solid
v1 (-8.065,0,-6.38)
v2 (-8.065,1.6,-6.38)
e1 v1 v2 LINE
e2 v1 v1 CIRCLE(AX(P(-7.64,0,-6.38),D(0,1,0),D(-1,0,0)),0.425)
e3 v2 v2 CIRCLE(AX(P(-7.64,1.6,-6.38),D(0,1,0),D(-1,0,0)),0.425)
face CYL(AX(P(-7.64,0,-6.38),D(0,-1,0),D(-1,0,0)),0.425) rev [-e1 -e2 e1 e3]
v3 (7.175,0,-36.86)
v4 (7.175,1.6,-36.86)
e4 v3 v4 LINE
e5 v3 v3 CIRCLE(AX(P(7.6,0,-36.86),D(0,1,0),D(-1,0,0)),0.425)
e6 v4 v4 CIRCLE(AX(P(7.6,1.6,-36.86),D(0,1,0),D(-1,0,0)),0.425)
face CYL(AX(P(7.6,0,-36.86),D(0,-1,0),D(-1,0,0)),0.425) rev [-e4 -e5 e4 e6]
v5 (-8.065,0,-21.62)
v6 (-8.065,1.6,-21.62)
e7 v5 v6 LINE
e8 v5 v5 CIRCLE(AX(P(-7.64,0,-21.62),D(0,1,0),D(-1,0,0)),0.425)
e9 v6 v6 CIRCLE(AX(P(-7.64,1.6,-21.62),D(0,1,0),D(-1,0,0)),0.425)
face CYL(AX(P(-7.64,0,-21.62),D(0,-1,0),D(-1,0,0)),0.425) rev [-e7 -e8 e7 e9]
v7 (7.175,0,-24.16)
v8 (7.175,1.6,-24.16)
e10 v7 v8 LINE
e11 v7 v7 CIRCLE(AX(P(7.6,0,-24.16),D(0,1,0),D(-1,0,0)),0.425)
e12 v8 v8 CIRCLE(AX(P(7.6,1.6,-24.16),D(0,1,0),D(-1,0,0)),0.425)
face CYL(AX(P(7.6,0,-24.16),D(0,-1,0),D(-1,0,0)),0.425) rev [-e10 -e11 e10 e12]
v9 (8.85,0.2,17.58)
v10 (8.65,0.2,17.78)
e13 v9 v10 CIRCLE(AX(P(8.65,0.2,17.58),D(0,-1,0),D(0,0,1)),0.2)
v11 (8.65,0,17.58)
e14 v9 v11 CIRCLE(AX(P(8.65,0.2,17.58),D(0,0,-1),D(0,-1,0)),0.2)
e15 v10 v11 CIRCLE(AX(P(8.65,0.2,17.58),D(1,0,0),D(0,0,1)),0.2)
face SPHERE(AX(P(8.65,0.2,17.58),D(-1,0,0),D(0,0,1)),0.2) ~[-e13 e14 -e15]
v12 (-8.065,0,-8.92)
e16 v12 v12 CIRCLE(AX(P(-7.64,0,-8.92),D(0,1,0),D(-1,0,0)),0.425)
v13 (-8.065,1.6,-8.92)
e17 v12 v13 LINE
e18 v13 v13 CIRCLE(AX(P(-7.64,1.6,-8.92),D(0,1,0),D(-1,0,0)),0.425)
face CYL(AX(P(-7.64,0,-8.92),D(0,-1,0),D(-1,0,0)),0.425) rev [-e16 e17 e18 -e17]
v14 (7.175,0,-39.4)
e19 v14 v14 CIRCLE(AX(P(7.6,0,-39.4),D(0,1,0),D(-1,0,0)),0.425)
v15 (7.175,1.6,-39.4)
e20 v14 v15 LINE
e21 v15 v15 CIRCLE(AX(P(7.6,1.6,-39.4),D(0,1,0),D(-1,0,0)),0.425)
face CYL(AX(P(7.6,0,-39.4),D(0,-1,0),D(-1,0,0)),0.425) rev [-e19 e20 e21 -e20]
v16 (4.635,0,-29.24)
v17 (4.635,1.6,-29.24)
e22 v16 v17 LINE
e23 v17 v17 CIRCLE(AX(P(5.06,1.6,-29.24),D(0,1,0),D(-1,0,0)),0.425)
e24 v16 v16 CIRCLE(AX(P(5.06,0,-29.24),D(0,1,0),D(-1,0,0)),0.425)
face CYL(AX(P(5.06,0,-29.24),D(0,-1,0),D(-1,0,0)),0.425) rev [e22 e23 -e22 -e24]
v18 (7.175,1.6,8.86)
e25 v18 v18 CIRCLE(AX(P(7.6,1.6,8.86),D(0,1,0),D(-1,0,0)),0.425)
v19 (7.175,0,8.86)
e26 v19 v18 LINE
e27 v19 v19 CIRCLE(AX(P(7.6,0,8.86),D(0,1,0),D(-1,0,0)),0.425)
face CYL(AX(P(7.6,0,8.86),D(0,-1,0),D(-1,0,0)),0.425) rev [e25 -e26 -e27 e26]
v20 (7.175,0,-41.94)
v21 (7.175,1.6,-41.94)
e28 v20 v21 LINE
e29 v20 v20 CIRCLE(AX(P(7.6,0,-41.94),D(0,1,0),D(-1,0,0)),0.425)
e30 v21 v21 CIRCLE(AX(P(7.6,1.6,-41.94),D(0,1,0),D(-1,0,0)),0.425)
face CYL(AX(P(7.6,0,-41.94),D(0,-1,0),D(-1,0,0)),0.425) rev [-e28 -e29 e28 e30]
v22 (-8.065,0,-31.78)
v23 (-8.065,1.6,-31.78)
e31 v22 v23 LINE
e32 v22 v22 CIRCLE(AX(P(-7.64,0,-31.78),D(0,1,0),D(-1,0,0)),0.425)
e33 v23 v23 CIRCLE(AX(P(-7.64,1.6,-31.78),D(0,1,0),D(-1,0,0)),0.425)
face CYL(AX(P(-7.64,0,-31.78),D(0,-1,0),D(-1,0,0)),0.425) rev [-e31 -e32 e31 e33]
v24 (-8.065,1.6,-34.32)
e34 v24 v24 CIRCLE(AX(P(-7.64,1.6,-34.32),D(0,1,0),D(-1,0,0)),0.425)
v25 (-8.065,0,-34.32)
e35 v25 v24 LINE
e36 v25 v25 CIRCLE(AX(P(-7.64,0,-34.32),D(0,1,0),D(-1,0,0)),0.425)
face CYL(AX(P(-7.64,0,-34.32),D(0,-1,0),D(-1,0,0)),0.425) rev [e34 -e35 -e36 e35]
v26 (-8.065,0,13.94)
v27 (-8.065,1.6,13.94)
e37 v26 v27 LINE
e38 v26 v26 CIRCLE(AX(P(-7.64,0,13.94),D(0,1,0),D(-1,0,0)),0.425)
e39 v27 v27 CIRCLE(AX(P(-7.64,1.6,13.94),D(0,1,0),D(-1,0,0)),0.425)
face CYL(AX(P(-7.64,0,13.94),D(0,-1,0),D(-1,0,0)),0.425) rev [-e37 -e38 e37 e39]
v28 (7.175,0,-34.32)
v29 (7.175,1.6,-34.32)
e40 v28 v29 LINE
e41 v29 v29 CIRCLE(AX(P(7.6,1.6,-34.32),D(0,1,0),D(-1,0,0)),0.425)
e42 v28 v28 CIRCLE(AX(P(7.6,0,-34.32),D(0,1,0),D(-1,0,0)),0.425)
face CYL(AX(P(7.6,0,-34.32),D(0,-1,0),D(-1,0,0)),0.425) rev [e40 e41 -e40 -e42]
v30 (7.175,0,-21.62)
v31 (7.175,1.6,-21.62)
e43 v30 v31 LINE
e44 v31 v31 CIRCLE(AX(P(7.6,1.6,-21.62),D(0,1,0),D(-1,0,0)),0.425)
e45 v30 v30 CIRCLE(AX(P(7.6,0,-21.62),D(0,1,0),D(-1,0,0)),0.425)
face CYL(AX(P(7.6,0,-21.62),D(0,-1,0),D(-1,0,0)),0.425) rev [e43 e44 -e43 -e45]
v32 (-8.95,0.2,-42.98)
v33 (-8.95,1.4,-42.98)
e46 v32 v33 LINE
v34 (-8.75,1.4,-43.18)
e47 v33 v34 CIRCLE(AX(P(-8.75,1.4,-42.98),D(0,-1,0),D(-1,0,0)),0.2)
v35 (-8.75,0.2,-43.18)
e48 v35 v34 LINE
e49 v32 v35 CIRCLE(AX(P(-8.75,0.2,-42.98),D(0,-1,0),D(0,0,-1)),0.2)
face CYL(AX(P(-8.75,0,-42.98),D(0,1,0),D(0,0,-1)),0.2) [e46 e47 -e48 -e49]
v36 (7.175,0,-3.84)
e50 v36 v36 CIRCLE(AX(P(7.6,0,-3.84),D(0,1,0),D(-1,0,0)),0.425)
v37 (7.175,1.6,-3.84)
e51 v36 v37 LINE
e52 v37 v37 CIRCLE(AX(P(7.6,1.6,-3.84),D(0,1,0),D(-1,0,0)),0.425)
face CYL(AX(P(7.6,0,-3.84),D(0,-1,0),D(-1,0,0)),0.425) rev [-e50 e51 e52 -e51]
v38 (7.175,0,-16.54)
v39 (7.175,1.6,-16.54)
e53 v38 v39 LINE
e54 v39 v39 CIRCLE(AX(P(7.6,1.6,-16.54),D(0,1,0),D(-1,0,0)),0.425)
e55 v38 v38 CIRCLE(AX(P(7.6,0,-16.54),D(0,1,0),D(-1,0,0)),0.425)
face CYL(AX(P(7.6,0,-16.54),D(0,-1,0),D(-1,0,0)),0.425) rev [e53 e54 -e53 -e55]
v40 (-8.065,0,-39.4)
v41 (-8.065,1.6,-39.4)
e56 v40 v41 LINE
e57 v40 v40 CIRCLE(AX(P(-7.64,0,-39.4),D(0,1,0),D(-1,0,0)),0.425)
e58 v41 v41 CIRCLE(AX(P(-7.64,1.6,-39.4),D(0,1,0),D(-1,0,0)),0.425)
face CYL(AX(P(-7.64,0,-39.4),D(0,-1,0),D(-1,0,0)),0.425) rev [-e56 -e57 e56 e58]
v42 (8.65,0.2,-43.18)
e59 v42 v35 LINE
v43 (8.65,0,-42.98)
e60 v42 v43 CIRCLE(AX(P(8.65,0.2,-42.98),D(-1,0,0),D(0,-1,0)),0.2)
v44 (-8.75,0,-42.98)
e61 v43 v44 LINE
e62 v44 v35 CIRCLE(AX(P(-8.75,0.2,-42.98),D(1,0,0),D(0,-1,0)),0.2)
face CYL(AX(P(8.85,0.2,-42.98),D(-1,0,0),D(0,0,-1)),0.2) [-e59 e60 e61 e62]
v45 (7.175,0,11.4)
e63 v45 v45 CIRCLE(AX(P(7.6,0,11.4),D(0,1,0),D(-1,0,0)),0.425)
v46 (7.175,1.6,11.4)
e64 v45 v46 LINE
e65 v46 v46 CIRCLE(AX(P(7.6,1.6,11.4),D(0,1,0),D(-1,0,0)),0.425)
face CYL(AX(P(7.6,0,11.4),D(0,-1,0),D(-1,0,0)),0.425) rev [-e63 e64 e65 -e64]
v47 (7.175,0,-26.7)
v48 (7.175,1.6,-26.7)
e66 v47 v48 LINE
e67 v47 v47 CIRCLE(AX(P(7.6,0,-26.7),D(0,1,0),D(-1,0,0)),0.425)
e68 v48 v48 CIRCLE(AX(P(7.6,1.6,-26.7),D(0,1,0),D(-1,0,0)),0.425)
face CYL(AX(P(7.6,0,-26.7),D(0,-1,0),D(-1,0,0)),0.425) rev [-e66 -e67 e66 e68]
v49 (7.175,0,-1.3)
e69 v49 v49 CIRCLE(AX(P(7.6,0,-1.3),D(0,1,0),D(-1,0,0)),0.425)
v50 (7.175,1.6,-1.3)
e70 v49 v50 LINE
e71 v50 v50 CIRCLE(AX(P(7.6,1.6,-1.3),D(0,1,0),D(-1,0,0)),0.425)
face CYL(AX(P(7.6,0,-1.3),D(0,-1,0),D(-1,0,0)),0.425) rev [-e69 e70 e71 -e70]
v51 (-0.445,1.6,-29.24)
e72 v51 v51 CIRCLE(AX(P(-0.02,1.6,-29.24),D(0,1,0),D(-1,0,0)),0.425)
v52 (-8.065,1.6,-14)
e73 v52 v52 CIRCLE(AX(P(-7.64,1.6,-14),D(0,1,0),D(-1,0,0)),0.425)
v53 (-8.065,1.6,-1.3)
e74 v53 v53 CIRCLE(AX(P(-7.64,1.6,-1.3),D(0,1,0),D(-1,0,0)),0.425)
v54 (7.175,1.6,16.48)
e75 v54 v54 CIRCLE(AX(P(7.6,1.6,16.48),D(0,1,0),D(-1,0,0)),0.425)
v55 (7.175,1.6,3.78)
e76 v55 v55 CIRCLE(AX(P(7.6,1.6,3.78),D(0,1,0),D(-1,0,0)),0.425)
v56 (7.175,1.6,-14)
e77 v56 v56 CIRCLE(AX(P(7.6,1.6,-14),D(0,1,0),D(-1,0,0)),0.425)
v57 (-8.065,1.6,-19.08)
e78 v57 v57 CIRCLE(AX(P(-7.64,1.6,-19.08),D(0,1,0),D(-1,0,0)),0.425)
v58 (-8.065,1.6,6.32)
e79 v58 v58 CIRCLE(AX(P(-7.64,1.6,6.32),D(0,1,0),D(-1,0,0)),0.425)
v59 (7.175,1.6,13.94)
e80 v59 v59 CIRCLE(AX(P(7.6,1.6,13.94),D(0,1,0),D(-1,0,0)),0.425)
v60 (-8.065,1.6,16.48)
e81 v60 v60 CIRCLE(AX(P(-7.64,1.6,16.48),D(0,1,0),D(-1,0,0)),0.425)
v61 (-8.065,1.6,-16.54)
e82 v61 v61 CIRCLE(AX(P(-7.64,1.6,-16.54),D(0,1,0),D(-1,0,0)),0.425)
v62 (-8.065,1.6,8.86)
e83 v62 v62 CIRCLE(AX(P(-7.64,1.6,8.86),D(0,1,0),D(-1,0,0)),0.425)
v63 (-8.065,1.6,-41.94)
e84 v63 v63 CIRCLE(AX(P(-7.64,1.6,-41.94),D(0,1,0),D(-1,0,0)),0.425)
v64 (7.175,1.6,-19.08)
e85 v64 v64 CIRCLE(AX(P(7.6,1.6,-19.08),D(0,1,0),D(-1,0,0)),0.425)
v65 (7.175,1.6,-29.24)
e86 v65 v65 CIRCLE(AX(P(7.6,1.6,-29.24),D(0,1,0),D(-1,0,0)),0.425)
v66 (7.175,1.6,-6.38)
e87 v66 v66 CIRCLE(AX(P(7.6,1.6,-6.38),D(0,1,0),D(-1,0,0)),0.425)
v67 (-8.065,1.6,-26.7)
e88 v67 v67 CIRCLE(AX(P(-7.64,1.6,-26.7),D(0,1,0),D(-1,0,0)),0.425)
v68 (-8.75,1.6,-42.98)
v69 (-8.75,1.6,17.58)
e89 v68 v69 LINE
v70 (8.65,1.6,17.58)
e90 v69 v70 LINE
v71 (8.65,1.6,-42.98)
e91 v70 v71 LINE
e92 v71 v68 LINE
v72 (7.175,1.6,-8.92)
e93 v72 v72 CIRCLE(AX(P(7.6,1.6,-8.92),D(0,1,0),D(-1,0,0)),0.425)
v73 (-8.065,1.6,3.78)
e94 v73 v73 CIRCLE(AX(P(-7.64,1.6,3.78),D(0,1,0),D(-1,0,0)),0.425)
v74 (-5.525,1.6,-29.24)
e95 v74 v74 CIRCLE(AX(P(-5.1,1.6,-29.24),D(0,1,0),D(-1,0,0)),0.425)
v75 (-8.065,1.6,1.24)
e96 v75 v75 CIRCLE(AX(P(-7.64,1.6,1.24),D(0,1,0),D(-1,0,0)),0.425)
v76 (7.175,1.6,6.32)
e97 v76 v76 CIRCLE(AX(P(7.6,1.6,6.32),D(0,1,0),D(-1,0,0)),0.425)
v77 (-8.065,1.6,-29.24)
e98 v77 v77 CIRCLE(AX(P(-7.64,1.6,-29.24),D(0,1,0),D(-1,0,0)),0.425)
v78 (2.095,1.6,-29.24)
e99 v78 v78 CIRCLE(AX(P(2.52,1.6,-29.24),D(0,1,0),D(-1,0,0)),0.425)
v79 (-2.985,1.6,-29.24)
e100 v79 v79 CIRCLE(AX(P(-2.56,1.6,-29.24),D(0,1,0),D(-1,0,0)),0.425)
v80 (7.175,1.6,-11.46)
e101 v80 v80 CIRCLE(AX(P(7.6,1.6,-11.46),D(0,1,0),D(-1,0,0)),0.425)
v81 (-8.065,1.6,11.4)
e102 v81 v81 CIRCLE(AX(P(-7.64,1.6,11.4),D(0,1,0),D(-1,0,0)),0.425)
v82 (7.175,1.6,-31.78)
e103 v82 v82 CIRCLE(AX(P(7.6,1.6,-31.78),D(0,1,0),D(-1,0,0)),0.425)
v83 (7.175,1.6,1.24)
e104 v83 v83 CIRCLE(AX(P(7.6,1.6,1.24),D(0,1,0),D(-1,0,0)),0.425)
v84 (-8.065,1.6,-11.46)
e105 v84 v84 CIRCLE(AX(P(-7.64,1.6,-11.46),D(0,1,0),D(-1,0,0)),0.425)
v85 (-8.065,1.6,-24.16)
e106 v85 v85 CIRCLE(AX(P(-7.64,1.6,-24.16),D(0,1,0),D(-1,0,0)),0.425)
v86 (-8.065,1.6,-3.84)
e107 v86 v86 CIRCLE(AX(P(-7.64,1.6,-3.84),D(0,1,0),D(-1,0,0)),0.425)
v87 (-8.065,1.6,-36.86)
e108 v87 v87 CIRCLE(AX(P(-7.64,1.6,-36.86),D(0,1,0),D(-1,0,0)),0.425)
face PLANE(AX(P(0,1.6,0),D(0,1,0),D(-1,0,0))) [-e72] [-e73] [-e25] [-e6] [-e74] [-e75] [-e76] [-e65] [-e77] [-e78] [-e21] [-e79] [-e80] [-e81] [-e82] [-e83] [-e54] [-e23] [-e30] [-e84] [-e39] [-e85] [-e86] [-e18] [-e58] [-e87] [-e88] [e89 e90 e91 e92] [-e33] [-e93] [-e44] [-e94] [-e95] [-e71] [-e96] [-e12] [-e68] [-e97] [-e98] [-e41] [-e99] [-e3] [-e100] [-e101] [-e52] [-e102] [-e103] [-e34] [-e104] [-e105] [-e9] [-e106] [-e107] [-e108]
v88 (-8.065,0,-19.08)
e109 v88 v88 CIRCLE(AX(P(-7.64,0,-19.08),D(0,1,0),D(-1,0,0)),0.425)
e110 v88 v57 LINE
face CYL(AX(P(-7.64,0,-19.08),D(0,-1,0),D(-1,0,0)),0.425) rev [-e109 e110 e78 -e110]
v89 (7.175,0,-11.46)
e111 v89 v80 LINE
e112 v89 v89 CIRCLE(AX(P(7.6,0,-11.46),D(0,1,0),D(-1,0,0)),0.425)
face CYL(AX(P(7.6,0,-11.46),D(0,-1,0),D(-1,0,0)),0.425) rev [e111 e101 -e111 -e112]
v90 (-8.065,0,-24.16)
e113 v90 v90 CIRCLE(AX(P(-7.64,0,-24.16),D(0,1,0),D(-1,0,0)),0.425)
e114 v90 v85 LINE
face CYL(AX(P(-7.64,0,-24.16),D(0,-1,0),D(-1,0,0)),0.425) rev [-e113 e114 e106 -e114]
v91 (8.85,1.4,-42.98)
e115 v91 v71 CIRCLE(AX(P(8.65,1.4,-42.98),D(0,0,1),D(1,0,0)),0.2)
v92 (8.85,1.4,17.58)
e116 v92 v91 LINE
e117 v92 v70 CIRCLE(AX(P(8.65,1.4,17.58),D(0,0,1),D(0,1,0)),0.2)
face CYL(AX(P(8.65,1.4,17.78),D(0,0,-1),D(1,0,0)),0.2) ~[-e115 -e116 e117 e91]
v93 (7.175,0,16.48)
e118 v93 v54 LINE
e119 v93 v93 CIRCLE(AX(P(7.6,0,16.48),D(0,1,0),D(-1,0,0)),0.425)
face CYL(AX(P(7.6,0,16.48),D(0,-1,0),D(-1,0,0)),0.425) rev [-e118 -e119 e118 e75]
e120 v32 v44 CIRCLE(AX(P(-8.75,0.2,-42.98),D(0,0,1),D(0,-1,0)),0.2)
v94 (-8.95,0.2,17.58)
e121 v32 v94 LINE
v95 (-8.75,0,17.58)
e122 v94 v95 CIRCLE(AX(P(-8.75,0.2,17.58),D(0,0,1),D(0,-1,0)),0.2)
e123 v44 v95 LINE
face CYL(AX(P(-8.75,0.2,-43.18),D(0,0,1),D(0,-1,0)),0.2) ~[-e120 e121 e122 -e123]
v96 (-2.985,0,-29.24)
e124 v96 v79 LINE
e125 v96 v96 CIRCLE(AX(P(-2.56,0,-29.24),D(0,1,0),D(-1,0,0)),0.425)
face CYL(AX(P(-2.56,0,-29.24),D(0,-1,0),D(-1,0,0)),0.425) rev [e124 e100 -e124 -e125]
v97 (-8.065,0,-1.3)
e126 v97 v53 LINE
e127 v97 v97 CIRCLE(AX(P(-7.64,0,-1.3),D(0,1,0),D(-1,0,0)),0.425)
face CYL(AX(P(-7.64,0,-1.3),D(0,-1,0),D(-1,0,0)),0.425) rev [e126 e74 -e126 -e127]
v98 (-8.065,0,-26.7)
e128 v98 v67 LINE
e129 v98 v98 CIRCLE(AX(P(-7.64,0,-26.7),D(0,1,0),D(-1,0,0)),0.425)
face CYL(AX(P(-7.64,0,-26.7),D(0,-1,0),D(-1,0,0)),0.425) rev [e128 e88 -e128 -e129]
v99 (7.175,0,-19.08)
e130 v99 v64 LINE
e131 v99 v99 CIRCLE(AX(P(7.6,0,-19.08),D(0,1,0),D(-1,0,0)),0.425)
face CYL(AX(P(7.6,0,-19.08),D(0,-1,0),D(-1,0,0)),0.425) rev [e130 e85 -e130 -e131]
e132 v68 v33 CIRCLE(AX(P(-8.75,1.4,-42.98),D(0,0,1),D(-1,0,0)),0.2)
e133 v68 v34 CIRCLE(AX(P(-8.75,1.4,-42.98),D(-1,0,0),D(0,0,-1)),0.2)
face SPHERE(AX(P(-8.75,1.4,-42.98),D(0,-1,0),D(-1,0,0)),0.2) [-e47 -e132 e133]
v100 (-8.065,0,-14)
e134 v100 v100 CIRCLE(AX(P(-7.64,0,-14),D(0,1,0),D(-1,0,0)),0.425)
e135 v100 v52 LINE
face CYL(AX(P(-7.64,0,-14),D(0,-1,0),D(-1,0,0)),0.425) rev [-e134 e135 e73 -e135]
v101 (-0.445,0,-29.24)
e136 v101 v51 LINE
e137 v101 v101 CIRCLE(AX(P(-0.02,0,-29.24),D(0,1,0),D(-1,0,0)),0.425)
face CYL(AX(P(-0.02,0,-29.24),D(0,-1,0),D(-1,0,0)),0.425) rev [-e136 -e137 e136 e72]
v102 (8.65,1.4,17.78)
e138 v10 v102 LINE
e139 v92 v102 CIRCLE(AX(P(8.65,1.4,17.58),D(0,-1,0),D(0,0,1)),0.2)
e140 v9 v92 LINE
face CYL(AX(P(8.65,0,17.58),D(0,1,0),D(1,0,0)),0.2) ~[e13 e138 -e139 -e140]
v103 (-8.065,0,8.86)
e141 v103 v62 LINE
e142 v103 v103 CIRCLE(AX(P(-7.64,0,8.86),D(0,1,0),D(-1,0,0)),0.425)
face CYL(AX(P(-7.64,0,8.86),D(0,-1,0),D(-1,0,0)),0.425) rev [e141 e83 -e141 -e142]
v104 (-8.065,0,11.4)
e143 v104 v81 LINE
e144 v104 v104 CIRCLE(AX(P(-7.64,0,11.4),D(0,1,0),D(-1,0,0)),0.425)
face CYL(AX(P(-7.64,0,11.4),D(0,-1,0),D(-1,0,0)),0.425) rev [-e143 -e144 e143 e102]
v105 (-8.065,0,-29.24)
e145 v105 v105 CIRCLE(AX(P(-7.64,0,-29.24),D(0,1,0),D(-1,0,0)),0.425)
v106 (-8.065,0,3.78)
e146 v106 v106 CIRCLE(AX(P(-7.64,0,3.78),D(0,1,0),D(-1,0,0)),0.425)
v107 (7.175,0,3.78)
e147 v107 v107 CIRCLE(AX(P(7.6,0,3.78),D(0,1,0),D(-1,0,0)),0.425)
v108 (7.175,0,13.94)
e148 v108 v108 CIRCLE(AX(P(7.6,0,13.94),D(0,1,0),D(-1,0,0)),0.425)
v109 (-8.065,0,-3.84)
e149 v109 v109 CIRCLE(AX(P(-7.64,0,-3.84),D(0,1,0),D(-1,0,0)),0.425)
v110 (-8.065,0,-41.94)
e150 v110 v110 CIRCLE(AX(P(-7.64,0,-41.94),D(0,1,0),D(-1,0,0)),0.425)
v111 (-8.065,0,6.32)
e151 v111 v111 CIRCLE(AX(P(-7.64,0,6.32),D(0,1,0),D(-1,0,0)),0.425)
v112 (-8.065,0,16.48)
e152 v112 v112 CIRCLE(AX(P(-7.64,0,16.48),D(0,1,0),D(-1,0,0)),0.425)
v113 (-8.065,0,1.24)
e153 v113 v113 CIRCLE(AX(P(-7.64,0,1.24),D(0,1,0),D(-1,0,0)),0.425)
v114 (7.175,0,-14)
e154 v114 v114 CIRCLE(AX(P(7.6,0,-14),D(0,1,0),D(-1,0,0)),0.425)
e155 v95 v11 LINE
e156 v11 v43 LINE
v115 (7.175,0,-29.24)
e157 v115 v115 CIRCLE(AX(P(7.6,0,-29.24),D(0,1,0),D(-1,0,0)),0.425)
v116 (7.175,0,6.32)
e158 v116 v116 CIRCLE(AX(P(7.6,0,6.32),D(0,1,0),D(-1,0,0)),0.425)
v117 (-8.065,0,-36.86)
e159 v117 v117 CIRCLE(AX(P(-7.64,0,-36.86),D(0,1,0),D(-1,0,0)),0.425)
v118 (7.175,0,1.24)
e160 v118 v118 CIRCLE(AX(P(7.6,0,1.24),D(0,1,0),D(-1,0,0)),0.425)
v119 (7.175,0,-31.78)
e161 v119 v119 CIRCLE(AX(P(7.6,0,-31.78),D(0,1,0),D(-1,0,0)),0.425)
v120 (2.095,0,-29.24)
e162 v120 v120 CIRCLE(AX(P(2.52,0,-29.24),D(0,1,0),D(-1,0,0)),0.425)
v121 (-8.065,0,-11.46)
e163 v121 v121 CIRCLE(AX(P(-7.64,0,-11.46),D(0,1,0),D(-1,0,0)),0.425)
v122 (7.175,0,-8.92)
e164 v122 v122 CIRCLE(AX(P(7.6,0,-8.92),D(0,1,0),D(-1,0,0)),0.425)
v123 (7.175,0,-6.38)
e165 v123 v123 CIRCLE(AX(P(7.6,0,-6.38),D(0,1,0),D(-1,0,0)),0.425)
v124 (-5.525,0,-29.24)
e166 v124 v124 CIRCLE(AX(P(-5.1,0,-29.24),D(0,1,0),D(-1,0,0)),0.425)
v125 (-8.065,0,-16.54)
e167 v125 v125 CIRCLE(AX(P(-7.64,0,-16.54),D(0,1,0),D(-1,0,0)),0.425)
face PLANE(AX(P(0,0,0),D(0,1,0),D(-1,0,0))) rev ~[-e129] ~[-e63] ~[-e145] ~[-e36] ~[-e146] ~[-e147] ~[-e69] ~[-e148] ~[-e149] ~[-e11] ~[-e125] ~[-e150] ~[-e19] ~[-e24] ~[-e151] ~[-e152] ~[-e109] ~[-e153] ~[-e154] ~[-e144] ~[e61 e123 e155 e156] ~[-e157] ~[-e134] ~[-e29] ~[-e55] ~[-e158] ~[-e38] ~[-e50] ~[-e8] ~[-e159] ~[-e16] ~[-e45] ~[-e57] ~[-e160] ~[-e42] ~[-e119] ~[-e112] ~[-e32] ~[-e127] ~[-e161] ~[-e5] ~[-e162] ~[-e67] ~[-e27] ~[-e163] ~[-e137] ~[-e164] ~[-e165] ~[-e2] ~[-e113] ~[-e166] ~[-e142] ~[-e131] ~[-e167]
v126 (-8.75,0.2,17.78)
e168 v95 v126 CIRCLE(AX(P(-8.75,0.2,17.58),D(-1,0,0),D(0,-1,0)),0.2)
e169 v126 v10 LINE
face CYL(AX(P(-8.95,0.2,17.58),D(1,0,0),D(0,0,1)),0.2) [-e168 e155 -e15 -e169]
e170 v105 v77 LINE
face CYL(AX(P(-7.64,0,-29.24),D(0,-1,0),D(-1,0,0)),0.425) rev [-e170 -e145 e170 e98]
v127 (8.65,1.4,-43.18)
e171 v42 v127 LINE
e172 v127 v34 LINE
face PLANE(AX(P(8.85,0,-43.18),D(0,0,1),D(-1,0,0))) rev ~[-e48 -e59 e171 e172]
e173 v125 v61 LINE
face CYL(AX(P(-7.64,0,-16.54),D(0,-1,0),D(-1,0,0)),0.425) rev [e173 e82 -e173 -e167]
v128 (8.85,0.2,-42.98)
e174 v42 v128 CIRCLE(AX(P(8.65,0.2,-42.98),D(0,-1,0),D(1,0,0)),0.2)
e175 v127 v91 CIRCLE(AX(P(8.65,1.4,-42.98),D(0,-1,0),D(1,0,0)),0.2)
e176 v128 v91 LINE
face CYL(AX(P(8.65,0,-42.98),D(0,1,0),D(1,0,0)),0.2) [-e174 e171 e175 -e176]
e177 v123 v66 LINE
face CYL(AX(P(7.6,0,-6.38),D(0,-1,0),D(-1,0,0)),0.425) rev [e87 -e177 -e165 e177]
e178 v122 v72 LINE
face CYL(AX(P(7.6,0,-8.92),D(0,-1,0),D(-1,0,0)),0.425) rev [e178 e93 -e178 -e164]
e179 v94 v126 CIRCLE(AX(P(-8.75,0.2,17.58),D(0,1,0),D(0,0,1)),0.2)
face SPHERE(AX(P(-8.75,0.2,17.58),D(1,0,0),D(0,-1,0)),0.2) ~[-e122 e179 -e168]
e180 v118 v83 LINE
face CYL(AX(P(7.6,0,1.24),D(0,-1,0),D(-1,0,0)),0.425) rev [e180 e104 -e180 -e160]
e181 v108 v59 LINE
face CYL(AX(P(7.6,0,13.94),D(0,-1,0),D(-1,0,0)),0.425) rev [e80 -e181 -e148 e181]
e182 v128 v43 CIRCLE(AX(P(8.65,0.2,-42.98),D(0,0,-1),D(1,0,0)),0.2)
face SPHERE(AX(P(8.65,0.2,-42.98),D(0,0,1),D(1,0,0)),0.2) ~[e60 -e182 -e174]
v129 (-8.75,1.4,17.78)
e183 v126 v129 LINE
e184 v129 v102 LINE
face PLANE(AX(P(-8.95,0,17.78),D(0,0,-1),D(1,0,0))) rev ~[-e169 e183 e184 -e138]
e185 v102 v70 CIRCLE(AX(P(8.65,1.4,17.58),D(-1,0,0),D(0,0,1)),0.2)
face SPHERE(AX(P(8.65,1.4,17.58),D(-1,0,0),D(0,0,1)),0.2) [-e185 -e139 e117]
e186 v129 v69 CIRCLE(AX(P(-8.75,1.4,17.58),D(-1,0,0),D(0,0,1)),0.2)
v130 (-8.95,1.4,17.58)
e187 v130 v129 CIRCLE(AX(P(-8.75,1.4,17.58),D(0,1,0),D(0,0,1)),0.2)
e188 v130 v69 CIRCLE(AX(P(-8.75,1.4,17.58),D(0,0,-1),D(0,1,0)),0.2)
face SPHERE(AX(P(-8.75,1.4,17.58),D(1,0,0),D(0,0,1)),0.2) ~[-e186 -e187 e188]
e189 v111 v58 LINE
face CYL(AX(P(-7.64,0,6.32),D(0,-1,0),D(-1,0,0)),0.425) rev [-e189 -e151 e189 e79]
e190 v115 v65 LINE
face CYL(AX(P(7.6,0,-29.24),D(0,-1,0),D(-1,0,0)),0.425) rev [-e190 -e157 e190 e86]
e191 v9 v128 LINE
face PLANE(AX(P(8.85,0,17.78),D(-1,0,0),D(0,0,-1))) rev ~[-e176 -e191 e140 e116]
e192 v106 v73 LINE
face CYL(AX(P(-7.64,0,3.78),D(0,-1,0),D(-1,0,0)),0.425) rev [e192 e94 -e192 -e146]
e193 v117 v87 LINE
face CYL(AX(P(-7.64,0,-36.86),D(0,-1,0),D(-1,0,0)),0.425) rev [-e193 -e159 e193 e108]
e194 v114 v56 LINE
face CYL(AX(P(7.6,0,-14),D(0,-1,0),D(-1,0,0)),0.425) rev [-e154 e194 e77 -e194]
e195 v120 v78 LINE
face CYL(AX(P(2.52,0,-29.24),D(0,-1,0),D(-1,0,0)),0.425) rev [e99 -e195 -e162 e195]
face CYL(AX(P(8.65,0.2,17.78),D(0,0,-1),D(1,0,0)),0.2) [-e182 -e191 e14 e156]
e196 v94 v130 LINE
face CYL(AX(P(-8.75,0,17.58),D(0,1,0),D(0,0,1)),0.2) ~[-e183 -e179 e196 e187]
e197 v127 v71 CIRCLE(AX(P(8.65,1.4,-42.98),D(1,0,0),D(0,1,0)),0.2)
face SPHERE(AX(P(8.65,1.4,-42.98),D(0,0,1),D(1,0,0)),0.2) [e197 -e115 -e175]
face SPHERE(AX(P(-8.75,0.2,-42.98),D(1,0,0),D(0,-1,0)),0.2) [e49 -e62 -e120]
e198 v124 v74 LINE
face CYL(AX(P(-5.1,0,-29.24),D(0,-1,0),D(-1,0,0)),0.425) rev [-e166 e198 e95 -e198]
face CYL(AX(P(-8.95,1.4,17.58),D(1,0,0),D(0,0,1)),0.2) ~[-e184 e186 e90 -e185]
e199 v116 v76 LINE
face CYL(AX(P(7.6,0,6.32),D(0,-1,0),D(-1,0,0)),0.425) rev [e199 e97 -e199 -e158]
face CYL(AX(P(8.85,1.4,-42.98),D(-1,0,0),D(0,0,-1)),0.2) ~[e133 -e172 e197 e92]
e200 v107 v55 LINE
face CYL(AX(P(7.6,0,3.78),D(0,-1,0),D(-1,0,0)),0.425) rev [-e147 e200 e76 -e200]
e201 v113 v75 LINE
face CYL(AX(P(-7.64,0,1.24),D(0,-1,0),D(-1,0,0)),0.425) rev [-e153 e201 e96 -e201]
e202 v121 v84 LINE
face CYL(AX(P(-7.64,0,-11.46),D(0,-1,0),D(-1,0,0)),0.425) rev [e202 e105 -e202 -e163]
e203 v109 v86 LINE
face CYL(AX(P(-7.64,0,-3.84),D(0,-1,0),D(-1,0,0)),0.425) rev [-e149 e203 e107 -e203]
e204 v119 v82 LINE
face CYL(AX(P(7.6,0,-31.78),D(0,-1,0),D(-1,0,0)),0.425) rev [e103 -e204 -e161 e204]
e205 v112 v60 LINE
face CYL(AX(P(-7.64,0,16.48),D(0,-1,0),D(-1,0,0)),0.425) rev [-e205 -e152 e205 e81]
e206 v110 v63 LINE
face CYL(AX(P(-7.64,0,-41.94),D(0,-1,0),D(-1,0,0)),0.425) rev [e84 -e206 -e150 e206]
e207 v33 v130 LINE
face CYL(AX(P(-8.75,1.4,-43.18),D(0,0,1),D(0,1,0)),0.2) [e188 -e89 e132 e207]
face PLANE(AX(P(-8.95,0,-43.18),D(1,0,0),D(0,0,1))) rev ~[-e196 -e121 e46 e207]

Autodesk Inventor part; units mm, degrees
ref_plane "YZ Plane" through (0, 0, 0) normal (1, 0, 0) x (0, 1, 0)
sketch "Schizzo1" plane through (0, 0, 0) normal (0, 1, 0) x (-1, 0, 0)
  line L0 (-8.85, -43.18) -> (8.95, -43.18)
  line L1 (8.95, -43.18) -> (8.95, 17.78)
  line L2 (8.95, 17.78) -> (-8.85, 17.78)
  line L3 (-8.85, 17.78) -> (-8.85, -43.18)
  line L4 (-8.85, 17.78) -> (8.95, -43.18) construction
  line L5 (8.95, 17.78) -> (-8.85, -43.18) construction
  line L6 (8.95, 16.48) -> (-8.95, 16.48) construction
  line L7 (-7.6, 17.78) -> (-7.6, -43.18) construction
  circle A0 centre (-7.6, 16.48) radius 0.425
  circle A1 centre (-7.6, 13.94) radius 0.425
  circle A2 centre (-7.6, 11.4) radius 0.425
  circle A3 centre (-7.6, 8.86) radius 0.425
  circle A4 centre (-7.6, 6.32) radius 0.425
  circle A5 centre (-7.6, 3.78) radius 0.425
  circle A6 centre (-7.6, 1.24) radius 0.425
  circle A7 centre (-7.6, -1.3) radius 0.425
  circle A8 centre (-7.6, -3.84) radius 0.425
  circle A9 centre (-7.6, -6.38) radius 0.425
  circle A10 centre (-7.6, -8.92) radius 0.425
  circle A11 centre (-7.6, -11.46) radius 0.425
  circle A12 centre (-7.6, -14) radius 0.425
  circle A13 centre (-7.6, -16.54) radius 0.425
  circle A14 centre (-5.06, 16.48) radius 0.425
  circle A15 centre (-2.52, 16.48) radius 0.425
  circle A16 centre (0.02, 16.48) radius 0.425
  circle A17 centre (2.56, 16.48) radius 0.425
  circle A18 centre (5.1, 16.48) radius 0.425
  circle A19 centre (7.64, 16.48) radius 0.425
  circle A20 centre (7.64, 13.94) radius 0.425
  circle A21 centre (7.64, 11.4) radius 0.425
  circle A22 centre (7.64, 8.86) radius 0.425
  circle A23 centre (7.64, 6.32) radius 0.425
  circle A24 centre (7.64, 3.78) radius 0.425
  circle A25 centre (7.64, 1.24) radius 0.425
  circle A26 centre (7.64, -1.3) radius 0.425
  circle A27 centre (7.64, -3.84) radius 0.425
  circle A28 centre (7.64, -6.38) radius 0.425
  circle A29 centre (7.64, -8.92) radius 0.425
  circle A30 centre (7.64, -11.46) radius 0.425
  circle A31 centre (7.64, -14) radius 0.425
  circle A32 centre (7.64, -16.54) radius 0.425
  circle A33 centre (7.64, -19.08) radius 0.425
  circle A34 centre (7.64, -21.62) radius 0.425
  circle A35 centre (7.64, -24.16) radius 0.425
  circle A36 centre (7.64, -26.7) radius 0.425
  circle A37 centre (7.64, -29.24) radius 0.425
  circle A38 centre (7.64, -31.78) radius 0.425
  circle A39 centre (7.64, -34.32) radius 0.425
  circle A40 centre (7.64, -36.86) radius 0.425
  circle A41 centre (7.64, -39.4) radius 0.425
  circle A42 centre (7.64, -41.94) radius 0.425
  circle A43 centre (-7.6, -19.08) radius 0.425
  circle A44 centre (-7.6, -21.62) radius 0.425
  circle A45 centre (-7.6, -24.16) radius 0.425
  circle A46 centre (-7.6, -26.7) radius 0.425
  circle A47 centre (-7.6, -29.24) radius 0.425
  circle A48 centre (-7.6, -31.78) radius 0.425
  circle A49 centre (-7.6, -34.32) radius 0.425
  circle A50 centre (-7.6, -36.86) radius 0.425
  circle A51 centre (-7.6, -39.4) radius 0.425
  circle A52 centre (-7.6, -41.94) radius 0.425
  circle A53 centre (-5.06, -29.24) radius 0.425
  circle A54 centre (-2.52, -29.24) radius 0.425
  circle A55 centre (0.02, -29.24) radius 0.425
  circle A56 centre (2.56, -29.24) radius 0.425
  circle A57 centre (5.1, -29.24) radius 0.425
  point P0 (0, 0)
  point P1 (0.05, -12.7)
  dimension "d0" = 17.8
  dimension "d1" = 60.96
  dimension "d4" = 1.3
  dimension "d5" = 1.25
  dimension "d6" = 0.85
  dimension "d9" = 2.54
  dimension "d16" = 2.54
  dimension "d23" = 2.54
  dimension "d166" = 2.54
  dimension "d169" = 2.54
extrude "Estrusione2" add sketch "Schizzo1" along normal blind 1.6 contours L3 L2 L1 L0 | A14 | A15 | A16 | A17 | A18
fillet "Raccordo1" radius 0.2 12 edges at (-0.05, 0, 17.78) (-0.05, 1.6, 17.78) (8.85, 0.8, 17.78) (8.85, 0, -12.7) (8.85, 1.6, -12.7) (8.85, 0.8, -43.18) (-0.05, 0, -43.18) (-8.95, 0, -12.7) (-8.95, 0.8, -43.18) (-8.95, 0.8, 17.78) (-8.95, 1.6, -12.7) (-0.05, 1.6, -43.18)
ref_plane "Piano di lavoro1" through (0, 13.85, 0) normal (0, 1, 0) x (1, 0, 0)
sketch "Schizzo2" plane through (0, 13.85, 0) normal (0, 1, 0) x (1, 0, 0)
  line L0 (-8.9159, -19.3191) -> (-8.9159, 43.0731) construction
  line L1 (-8.9159, 43.0731) -> (8.8631, 43.0731) construction
  line L2 (8.8631, 43.0731) -> (8.8631, -19.3191) construction
  line L3 (8.8631, -19.3191) -> (-8.9159, -19.3191) construction
decal "Decalcomania1"
ref_plane "Piano di lavoro2" through (0, -10.75, 0) normal (0, -1, 0) x (1, 0, 0)
sketch "Schizzo3" plane through (0, -10.75, 0) normal (0, -1, 0) x (1, 0, 0)
  line L0 (9.0458, 17.6328) -> (9.0458, -44.6653) construction
  line L1 (9.0458, -44.6653) -> (-9.0191, -44.6653) construction
  line L2 (-9.0191, -44.6653) -> (-9.0191, 17.6328) construction
  line L3 (-9.0191, 17.6328) -> (9.0458, 17.6328) construction
  point P0 (0, 0)
decal "Decalcomania2"
sketch "Schizzo4" plane through (0, 1.6, 0) normal (0, 1, 0) x (1, 0, 0)
  circle A0 centre (7.6, 11.46) radius 0.425 projected
sketch "Schizzo5" plane through (0, 1.6, 0) normal (0, 1, 0) x (1, 0, 0)
  circle A0 centre (7.6, -1.24) radius 0.425 projected
sketch "Schizzo6" plane through (0, 1.6, 0) normal (0, 1, 0) x (1, 0, 0)
  circle A0 centre (7.6, -3.78) radius 0.425 projected
sketch "Schizzo7" plane through (0, 1.6, 0) normal (0, 1, 0) x (1, 0, 0)
  circle A0 centre (-7.64, 16.54) radius 0.425 projected
sketch "Schizzo8" plane through (0, 1.6, 0) normal (0, 1, 0) x (1, 0, 0)
  circle A0 centre (-7.64, 14) radius 0.425 projected
sketch "Schizzo9" plane through (0, 1.6, 0) normal (0, 1, 0) x (1, 0, 0)
  circle A0 centre (-7.64, 11.46) radius 0.425 projected
sketch "Sketch10" plane through (0, 0, 0) normal (0, -1, 0) x (1, 0, 0)
  circle A0 centre (7.6, -11.46) radius 0.425 projected
sketch "Schizzo11" plane through (0, 0, 0) normal (0, -1, 0) x (1, 0, 0)
  circle A0 centre (-7.64, -16.54) radius 0.425 projected
sketch "Schizzo12" plane through (0, 1.6, 0) normal (0, 1, 0) x (1, 0, 0)
  circle A0 centre (-7.64, -11.4) radius 0.425 projected
sketch "Schizzo13" plane through (0, 1.6, 0) normal (0, 1, 0) x (1, 0, 0)
  circle A0 centre (-7.64, -8.86) radius 0.425 projected
sketch "Schizzo14" plane through (0, 0, 0) normal (0, -1, 0) x (1, 0, 0)
  circle A0 centre (7.6, 1.24) radius 0.425 projected
sketch "Schizzo15" plane through (0, 0, 0) normal (0, -1, 0) x (1, 0, 0)
  circle A0 centre (7.6, 3.78) radius 0.425 projected
sketch "Sketch16" plane through (0, 0, 0) normal (0, -1, 0) x (1, 0, 0)
  point P0 (0, 0)
  point P1 (3.8313, 14.0194)
  point P2 (3.8313, 11.5063)
properties part number "101" material "Plastica ABS"
